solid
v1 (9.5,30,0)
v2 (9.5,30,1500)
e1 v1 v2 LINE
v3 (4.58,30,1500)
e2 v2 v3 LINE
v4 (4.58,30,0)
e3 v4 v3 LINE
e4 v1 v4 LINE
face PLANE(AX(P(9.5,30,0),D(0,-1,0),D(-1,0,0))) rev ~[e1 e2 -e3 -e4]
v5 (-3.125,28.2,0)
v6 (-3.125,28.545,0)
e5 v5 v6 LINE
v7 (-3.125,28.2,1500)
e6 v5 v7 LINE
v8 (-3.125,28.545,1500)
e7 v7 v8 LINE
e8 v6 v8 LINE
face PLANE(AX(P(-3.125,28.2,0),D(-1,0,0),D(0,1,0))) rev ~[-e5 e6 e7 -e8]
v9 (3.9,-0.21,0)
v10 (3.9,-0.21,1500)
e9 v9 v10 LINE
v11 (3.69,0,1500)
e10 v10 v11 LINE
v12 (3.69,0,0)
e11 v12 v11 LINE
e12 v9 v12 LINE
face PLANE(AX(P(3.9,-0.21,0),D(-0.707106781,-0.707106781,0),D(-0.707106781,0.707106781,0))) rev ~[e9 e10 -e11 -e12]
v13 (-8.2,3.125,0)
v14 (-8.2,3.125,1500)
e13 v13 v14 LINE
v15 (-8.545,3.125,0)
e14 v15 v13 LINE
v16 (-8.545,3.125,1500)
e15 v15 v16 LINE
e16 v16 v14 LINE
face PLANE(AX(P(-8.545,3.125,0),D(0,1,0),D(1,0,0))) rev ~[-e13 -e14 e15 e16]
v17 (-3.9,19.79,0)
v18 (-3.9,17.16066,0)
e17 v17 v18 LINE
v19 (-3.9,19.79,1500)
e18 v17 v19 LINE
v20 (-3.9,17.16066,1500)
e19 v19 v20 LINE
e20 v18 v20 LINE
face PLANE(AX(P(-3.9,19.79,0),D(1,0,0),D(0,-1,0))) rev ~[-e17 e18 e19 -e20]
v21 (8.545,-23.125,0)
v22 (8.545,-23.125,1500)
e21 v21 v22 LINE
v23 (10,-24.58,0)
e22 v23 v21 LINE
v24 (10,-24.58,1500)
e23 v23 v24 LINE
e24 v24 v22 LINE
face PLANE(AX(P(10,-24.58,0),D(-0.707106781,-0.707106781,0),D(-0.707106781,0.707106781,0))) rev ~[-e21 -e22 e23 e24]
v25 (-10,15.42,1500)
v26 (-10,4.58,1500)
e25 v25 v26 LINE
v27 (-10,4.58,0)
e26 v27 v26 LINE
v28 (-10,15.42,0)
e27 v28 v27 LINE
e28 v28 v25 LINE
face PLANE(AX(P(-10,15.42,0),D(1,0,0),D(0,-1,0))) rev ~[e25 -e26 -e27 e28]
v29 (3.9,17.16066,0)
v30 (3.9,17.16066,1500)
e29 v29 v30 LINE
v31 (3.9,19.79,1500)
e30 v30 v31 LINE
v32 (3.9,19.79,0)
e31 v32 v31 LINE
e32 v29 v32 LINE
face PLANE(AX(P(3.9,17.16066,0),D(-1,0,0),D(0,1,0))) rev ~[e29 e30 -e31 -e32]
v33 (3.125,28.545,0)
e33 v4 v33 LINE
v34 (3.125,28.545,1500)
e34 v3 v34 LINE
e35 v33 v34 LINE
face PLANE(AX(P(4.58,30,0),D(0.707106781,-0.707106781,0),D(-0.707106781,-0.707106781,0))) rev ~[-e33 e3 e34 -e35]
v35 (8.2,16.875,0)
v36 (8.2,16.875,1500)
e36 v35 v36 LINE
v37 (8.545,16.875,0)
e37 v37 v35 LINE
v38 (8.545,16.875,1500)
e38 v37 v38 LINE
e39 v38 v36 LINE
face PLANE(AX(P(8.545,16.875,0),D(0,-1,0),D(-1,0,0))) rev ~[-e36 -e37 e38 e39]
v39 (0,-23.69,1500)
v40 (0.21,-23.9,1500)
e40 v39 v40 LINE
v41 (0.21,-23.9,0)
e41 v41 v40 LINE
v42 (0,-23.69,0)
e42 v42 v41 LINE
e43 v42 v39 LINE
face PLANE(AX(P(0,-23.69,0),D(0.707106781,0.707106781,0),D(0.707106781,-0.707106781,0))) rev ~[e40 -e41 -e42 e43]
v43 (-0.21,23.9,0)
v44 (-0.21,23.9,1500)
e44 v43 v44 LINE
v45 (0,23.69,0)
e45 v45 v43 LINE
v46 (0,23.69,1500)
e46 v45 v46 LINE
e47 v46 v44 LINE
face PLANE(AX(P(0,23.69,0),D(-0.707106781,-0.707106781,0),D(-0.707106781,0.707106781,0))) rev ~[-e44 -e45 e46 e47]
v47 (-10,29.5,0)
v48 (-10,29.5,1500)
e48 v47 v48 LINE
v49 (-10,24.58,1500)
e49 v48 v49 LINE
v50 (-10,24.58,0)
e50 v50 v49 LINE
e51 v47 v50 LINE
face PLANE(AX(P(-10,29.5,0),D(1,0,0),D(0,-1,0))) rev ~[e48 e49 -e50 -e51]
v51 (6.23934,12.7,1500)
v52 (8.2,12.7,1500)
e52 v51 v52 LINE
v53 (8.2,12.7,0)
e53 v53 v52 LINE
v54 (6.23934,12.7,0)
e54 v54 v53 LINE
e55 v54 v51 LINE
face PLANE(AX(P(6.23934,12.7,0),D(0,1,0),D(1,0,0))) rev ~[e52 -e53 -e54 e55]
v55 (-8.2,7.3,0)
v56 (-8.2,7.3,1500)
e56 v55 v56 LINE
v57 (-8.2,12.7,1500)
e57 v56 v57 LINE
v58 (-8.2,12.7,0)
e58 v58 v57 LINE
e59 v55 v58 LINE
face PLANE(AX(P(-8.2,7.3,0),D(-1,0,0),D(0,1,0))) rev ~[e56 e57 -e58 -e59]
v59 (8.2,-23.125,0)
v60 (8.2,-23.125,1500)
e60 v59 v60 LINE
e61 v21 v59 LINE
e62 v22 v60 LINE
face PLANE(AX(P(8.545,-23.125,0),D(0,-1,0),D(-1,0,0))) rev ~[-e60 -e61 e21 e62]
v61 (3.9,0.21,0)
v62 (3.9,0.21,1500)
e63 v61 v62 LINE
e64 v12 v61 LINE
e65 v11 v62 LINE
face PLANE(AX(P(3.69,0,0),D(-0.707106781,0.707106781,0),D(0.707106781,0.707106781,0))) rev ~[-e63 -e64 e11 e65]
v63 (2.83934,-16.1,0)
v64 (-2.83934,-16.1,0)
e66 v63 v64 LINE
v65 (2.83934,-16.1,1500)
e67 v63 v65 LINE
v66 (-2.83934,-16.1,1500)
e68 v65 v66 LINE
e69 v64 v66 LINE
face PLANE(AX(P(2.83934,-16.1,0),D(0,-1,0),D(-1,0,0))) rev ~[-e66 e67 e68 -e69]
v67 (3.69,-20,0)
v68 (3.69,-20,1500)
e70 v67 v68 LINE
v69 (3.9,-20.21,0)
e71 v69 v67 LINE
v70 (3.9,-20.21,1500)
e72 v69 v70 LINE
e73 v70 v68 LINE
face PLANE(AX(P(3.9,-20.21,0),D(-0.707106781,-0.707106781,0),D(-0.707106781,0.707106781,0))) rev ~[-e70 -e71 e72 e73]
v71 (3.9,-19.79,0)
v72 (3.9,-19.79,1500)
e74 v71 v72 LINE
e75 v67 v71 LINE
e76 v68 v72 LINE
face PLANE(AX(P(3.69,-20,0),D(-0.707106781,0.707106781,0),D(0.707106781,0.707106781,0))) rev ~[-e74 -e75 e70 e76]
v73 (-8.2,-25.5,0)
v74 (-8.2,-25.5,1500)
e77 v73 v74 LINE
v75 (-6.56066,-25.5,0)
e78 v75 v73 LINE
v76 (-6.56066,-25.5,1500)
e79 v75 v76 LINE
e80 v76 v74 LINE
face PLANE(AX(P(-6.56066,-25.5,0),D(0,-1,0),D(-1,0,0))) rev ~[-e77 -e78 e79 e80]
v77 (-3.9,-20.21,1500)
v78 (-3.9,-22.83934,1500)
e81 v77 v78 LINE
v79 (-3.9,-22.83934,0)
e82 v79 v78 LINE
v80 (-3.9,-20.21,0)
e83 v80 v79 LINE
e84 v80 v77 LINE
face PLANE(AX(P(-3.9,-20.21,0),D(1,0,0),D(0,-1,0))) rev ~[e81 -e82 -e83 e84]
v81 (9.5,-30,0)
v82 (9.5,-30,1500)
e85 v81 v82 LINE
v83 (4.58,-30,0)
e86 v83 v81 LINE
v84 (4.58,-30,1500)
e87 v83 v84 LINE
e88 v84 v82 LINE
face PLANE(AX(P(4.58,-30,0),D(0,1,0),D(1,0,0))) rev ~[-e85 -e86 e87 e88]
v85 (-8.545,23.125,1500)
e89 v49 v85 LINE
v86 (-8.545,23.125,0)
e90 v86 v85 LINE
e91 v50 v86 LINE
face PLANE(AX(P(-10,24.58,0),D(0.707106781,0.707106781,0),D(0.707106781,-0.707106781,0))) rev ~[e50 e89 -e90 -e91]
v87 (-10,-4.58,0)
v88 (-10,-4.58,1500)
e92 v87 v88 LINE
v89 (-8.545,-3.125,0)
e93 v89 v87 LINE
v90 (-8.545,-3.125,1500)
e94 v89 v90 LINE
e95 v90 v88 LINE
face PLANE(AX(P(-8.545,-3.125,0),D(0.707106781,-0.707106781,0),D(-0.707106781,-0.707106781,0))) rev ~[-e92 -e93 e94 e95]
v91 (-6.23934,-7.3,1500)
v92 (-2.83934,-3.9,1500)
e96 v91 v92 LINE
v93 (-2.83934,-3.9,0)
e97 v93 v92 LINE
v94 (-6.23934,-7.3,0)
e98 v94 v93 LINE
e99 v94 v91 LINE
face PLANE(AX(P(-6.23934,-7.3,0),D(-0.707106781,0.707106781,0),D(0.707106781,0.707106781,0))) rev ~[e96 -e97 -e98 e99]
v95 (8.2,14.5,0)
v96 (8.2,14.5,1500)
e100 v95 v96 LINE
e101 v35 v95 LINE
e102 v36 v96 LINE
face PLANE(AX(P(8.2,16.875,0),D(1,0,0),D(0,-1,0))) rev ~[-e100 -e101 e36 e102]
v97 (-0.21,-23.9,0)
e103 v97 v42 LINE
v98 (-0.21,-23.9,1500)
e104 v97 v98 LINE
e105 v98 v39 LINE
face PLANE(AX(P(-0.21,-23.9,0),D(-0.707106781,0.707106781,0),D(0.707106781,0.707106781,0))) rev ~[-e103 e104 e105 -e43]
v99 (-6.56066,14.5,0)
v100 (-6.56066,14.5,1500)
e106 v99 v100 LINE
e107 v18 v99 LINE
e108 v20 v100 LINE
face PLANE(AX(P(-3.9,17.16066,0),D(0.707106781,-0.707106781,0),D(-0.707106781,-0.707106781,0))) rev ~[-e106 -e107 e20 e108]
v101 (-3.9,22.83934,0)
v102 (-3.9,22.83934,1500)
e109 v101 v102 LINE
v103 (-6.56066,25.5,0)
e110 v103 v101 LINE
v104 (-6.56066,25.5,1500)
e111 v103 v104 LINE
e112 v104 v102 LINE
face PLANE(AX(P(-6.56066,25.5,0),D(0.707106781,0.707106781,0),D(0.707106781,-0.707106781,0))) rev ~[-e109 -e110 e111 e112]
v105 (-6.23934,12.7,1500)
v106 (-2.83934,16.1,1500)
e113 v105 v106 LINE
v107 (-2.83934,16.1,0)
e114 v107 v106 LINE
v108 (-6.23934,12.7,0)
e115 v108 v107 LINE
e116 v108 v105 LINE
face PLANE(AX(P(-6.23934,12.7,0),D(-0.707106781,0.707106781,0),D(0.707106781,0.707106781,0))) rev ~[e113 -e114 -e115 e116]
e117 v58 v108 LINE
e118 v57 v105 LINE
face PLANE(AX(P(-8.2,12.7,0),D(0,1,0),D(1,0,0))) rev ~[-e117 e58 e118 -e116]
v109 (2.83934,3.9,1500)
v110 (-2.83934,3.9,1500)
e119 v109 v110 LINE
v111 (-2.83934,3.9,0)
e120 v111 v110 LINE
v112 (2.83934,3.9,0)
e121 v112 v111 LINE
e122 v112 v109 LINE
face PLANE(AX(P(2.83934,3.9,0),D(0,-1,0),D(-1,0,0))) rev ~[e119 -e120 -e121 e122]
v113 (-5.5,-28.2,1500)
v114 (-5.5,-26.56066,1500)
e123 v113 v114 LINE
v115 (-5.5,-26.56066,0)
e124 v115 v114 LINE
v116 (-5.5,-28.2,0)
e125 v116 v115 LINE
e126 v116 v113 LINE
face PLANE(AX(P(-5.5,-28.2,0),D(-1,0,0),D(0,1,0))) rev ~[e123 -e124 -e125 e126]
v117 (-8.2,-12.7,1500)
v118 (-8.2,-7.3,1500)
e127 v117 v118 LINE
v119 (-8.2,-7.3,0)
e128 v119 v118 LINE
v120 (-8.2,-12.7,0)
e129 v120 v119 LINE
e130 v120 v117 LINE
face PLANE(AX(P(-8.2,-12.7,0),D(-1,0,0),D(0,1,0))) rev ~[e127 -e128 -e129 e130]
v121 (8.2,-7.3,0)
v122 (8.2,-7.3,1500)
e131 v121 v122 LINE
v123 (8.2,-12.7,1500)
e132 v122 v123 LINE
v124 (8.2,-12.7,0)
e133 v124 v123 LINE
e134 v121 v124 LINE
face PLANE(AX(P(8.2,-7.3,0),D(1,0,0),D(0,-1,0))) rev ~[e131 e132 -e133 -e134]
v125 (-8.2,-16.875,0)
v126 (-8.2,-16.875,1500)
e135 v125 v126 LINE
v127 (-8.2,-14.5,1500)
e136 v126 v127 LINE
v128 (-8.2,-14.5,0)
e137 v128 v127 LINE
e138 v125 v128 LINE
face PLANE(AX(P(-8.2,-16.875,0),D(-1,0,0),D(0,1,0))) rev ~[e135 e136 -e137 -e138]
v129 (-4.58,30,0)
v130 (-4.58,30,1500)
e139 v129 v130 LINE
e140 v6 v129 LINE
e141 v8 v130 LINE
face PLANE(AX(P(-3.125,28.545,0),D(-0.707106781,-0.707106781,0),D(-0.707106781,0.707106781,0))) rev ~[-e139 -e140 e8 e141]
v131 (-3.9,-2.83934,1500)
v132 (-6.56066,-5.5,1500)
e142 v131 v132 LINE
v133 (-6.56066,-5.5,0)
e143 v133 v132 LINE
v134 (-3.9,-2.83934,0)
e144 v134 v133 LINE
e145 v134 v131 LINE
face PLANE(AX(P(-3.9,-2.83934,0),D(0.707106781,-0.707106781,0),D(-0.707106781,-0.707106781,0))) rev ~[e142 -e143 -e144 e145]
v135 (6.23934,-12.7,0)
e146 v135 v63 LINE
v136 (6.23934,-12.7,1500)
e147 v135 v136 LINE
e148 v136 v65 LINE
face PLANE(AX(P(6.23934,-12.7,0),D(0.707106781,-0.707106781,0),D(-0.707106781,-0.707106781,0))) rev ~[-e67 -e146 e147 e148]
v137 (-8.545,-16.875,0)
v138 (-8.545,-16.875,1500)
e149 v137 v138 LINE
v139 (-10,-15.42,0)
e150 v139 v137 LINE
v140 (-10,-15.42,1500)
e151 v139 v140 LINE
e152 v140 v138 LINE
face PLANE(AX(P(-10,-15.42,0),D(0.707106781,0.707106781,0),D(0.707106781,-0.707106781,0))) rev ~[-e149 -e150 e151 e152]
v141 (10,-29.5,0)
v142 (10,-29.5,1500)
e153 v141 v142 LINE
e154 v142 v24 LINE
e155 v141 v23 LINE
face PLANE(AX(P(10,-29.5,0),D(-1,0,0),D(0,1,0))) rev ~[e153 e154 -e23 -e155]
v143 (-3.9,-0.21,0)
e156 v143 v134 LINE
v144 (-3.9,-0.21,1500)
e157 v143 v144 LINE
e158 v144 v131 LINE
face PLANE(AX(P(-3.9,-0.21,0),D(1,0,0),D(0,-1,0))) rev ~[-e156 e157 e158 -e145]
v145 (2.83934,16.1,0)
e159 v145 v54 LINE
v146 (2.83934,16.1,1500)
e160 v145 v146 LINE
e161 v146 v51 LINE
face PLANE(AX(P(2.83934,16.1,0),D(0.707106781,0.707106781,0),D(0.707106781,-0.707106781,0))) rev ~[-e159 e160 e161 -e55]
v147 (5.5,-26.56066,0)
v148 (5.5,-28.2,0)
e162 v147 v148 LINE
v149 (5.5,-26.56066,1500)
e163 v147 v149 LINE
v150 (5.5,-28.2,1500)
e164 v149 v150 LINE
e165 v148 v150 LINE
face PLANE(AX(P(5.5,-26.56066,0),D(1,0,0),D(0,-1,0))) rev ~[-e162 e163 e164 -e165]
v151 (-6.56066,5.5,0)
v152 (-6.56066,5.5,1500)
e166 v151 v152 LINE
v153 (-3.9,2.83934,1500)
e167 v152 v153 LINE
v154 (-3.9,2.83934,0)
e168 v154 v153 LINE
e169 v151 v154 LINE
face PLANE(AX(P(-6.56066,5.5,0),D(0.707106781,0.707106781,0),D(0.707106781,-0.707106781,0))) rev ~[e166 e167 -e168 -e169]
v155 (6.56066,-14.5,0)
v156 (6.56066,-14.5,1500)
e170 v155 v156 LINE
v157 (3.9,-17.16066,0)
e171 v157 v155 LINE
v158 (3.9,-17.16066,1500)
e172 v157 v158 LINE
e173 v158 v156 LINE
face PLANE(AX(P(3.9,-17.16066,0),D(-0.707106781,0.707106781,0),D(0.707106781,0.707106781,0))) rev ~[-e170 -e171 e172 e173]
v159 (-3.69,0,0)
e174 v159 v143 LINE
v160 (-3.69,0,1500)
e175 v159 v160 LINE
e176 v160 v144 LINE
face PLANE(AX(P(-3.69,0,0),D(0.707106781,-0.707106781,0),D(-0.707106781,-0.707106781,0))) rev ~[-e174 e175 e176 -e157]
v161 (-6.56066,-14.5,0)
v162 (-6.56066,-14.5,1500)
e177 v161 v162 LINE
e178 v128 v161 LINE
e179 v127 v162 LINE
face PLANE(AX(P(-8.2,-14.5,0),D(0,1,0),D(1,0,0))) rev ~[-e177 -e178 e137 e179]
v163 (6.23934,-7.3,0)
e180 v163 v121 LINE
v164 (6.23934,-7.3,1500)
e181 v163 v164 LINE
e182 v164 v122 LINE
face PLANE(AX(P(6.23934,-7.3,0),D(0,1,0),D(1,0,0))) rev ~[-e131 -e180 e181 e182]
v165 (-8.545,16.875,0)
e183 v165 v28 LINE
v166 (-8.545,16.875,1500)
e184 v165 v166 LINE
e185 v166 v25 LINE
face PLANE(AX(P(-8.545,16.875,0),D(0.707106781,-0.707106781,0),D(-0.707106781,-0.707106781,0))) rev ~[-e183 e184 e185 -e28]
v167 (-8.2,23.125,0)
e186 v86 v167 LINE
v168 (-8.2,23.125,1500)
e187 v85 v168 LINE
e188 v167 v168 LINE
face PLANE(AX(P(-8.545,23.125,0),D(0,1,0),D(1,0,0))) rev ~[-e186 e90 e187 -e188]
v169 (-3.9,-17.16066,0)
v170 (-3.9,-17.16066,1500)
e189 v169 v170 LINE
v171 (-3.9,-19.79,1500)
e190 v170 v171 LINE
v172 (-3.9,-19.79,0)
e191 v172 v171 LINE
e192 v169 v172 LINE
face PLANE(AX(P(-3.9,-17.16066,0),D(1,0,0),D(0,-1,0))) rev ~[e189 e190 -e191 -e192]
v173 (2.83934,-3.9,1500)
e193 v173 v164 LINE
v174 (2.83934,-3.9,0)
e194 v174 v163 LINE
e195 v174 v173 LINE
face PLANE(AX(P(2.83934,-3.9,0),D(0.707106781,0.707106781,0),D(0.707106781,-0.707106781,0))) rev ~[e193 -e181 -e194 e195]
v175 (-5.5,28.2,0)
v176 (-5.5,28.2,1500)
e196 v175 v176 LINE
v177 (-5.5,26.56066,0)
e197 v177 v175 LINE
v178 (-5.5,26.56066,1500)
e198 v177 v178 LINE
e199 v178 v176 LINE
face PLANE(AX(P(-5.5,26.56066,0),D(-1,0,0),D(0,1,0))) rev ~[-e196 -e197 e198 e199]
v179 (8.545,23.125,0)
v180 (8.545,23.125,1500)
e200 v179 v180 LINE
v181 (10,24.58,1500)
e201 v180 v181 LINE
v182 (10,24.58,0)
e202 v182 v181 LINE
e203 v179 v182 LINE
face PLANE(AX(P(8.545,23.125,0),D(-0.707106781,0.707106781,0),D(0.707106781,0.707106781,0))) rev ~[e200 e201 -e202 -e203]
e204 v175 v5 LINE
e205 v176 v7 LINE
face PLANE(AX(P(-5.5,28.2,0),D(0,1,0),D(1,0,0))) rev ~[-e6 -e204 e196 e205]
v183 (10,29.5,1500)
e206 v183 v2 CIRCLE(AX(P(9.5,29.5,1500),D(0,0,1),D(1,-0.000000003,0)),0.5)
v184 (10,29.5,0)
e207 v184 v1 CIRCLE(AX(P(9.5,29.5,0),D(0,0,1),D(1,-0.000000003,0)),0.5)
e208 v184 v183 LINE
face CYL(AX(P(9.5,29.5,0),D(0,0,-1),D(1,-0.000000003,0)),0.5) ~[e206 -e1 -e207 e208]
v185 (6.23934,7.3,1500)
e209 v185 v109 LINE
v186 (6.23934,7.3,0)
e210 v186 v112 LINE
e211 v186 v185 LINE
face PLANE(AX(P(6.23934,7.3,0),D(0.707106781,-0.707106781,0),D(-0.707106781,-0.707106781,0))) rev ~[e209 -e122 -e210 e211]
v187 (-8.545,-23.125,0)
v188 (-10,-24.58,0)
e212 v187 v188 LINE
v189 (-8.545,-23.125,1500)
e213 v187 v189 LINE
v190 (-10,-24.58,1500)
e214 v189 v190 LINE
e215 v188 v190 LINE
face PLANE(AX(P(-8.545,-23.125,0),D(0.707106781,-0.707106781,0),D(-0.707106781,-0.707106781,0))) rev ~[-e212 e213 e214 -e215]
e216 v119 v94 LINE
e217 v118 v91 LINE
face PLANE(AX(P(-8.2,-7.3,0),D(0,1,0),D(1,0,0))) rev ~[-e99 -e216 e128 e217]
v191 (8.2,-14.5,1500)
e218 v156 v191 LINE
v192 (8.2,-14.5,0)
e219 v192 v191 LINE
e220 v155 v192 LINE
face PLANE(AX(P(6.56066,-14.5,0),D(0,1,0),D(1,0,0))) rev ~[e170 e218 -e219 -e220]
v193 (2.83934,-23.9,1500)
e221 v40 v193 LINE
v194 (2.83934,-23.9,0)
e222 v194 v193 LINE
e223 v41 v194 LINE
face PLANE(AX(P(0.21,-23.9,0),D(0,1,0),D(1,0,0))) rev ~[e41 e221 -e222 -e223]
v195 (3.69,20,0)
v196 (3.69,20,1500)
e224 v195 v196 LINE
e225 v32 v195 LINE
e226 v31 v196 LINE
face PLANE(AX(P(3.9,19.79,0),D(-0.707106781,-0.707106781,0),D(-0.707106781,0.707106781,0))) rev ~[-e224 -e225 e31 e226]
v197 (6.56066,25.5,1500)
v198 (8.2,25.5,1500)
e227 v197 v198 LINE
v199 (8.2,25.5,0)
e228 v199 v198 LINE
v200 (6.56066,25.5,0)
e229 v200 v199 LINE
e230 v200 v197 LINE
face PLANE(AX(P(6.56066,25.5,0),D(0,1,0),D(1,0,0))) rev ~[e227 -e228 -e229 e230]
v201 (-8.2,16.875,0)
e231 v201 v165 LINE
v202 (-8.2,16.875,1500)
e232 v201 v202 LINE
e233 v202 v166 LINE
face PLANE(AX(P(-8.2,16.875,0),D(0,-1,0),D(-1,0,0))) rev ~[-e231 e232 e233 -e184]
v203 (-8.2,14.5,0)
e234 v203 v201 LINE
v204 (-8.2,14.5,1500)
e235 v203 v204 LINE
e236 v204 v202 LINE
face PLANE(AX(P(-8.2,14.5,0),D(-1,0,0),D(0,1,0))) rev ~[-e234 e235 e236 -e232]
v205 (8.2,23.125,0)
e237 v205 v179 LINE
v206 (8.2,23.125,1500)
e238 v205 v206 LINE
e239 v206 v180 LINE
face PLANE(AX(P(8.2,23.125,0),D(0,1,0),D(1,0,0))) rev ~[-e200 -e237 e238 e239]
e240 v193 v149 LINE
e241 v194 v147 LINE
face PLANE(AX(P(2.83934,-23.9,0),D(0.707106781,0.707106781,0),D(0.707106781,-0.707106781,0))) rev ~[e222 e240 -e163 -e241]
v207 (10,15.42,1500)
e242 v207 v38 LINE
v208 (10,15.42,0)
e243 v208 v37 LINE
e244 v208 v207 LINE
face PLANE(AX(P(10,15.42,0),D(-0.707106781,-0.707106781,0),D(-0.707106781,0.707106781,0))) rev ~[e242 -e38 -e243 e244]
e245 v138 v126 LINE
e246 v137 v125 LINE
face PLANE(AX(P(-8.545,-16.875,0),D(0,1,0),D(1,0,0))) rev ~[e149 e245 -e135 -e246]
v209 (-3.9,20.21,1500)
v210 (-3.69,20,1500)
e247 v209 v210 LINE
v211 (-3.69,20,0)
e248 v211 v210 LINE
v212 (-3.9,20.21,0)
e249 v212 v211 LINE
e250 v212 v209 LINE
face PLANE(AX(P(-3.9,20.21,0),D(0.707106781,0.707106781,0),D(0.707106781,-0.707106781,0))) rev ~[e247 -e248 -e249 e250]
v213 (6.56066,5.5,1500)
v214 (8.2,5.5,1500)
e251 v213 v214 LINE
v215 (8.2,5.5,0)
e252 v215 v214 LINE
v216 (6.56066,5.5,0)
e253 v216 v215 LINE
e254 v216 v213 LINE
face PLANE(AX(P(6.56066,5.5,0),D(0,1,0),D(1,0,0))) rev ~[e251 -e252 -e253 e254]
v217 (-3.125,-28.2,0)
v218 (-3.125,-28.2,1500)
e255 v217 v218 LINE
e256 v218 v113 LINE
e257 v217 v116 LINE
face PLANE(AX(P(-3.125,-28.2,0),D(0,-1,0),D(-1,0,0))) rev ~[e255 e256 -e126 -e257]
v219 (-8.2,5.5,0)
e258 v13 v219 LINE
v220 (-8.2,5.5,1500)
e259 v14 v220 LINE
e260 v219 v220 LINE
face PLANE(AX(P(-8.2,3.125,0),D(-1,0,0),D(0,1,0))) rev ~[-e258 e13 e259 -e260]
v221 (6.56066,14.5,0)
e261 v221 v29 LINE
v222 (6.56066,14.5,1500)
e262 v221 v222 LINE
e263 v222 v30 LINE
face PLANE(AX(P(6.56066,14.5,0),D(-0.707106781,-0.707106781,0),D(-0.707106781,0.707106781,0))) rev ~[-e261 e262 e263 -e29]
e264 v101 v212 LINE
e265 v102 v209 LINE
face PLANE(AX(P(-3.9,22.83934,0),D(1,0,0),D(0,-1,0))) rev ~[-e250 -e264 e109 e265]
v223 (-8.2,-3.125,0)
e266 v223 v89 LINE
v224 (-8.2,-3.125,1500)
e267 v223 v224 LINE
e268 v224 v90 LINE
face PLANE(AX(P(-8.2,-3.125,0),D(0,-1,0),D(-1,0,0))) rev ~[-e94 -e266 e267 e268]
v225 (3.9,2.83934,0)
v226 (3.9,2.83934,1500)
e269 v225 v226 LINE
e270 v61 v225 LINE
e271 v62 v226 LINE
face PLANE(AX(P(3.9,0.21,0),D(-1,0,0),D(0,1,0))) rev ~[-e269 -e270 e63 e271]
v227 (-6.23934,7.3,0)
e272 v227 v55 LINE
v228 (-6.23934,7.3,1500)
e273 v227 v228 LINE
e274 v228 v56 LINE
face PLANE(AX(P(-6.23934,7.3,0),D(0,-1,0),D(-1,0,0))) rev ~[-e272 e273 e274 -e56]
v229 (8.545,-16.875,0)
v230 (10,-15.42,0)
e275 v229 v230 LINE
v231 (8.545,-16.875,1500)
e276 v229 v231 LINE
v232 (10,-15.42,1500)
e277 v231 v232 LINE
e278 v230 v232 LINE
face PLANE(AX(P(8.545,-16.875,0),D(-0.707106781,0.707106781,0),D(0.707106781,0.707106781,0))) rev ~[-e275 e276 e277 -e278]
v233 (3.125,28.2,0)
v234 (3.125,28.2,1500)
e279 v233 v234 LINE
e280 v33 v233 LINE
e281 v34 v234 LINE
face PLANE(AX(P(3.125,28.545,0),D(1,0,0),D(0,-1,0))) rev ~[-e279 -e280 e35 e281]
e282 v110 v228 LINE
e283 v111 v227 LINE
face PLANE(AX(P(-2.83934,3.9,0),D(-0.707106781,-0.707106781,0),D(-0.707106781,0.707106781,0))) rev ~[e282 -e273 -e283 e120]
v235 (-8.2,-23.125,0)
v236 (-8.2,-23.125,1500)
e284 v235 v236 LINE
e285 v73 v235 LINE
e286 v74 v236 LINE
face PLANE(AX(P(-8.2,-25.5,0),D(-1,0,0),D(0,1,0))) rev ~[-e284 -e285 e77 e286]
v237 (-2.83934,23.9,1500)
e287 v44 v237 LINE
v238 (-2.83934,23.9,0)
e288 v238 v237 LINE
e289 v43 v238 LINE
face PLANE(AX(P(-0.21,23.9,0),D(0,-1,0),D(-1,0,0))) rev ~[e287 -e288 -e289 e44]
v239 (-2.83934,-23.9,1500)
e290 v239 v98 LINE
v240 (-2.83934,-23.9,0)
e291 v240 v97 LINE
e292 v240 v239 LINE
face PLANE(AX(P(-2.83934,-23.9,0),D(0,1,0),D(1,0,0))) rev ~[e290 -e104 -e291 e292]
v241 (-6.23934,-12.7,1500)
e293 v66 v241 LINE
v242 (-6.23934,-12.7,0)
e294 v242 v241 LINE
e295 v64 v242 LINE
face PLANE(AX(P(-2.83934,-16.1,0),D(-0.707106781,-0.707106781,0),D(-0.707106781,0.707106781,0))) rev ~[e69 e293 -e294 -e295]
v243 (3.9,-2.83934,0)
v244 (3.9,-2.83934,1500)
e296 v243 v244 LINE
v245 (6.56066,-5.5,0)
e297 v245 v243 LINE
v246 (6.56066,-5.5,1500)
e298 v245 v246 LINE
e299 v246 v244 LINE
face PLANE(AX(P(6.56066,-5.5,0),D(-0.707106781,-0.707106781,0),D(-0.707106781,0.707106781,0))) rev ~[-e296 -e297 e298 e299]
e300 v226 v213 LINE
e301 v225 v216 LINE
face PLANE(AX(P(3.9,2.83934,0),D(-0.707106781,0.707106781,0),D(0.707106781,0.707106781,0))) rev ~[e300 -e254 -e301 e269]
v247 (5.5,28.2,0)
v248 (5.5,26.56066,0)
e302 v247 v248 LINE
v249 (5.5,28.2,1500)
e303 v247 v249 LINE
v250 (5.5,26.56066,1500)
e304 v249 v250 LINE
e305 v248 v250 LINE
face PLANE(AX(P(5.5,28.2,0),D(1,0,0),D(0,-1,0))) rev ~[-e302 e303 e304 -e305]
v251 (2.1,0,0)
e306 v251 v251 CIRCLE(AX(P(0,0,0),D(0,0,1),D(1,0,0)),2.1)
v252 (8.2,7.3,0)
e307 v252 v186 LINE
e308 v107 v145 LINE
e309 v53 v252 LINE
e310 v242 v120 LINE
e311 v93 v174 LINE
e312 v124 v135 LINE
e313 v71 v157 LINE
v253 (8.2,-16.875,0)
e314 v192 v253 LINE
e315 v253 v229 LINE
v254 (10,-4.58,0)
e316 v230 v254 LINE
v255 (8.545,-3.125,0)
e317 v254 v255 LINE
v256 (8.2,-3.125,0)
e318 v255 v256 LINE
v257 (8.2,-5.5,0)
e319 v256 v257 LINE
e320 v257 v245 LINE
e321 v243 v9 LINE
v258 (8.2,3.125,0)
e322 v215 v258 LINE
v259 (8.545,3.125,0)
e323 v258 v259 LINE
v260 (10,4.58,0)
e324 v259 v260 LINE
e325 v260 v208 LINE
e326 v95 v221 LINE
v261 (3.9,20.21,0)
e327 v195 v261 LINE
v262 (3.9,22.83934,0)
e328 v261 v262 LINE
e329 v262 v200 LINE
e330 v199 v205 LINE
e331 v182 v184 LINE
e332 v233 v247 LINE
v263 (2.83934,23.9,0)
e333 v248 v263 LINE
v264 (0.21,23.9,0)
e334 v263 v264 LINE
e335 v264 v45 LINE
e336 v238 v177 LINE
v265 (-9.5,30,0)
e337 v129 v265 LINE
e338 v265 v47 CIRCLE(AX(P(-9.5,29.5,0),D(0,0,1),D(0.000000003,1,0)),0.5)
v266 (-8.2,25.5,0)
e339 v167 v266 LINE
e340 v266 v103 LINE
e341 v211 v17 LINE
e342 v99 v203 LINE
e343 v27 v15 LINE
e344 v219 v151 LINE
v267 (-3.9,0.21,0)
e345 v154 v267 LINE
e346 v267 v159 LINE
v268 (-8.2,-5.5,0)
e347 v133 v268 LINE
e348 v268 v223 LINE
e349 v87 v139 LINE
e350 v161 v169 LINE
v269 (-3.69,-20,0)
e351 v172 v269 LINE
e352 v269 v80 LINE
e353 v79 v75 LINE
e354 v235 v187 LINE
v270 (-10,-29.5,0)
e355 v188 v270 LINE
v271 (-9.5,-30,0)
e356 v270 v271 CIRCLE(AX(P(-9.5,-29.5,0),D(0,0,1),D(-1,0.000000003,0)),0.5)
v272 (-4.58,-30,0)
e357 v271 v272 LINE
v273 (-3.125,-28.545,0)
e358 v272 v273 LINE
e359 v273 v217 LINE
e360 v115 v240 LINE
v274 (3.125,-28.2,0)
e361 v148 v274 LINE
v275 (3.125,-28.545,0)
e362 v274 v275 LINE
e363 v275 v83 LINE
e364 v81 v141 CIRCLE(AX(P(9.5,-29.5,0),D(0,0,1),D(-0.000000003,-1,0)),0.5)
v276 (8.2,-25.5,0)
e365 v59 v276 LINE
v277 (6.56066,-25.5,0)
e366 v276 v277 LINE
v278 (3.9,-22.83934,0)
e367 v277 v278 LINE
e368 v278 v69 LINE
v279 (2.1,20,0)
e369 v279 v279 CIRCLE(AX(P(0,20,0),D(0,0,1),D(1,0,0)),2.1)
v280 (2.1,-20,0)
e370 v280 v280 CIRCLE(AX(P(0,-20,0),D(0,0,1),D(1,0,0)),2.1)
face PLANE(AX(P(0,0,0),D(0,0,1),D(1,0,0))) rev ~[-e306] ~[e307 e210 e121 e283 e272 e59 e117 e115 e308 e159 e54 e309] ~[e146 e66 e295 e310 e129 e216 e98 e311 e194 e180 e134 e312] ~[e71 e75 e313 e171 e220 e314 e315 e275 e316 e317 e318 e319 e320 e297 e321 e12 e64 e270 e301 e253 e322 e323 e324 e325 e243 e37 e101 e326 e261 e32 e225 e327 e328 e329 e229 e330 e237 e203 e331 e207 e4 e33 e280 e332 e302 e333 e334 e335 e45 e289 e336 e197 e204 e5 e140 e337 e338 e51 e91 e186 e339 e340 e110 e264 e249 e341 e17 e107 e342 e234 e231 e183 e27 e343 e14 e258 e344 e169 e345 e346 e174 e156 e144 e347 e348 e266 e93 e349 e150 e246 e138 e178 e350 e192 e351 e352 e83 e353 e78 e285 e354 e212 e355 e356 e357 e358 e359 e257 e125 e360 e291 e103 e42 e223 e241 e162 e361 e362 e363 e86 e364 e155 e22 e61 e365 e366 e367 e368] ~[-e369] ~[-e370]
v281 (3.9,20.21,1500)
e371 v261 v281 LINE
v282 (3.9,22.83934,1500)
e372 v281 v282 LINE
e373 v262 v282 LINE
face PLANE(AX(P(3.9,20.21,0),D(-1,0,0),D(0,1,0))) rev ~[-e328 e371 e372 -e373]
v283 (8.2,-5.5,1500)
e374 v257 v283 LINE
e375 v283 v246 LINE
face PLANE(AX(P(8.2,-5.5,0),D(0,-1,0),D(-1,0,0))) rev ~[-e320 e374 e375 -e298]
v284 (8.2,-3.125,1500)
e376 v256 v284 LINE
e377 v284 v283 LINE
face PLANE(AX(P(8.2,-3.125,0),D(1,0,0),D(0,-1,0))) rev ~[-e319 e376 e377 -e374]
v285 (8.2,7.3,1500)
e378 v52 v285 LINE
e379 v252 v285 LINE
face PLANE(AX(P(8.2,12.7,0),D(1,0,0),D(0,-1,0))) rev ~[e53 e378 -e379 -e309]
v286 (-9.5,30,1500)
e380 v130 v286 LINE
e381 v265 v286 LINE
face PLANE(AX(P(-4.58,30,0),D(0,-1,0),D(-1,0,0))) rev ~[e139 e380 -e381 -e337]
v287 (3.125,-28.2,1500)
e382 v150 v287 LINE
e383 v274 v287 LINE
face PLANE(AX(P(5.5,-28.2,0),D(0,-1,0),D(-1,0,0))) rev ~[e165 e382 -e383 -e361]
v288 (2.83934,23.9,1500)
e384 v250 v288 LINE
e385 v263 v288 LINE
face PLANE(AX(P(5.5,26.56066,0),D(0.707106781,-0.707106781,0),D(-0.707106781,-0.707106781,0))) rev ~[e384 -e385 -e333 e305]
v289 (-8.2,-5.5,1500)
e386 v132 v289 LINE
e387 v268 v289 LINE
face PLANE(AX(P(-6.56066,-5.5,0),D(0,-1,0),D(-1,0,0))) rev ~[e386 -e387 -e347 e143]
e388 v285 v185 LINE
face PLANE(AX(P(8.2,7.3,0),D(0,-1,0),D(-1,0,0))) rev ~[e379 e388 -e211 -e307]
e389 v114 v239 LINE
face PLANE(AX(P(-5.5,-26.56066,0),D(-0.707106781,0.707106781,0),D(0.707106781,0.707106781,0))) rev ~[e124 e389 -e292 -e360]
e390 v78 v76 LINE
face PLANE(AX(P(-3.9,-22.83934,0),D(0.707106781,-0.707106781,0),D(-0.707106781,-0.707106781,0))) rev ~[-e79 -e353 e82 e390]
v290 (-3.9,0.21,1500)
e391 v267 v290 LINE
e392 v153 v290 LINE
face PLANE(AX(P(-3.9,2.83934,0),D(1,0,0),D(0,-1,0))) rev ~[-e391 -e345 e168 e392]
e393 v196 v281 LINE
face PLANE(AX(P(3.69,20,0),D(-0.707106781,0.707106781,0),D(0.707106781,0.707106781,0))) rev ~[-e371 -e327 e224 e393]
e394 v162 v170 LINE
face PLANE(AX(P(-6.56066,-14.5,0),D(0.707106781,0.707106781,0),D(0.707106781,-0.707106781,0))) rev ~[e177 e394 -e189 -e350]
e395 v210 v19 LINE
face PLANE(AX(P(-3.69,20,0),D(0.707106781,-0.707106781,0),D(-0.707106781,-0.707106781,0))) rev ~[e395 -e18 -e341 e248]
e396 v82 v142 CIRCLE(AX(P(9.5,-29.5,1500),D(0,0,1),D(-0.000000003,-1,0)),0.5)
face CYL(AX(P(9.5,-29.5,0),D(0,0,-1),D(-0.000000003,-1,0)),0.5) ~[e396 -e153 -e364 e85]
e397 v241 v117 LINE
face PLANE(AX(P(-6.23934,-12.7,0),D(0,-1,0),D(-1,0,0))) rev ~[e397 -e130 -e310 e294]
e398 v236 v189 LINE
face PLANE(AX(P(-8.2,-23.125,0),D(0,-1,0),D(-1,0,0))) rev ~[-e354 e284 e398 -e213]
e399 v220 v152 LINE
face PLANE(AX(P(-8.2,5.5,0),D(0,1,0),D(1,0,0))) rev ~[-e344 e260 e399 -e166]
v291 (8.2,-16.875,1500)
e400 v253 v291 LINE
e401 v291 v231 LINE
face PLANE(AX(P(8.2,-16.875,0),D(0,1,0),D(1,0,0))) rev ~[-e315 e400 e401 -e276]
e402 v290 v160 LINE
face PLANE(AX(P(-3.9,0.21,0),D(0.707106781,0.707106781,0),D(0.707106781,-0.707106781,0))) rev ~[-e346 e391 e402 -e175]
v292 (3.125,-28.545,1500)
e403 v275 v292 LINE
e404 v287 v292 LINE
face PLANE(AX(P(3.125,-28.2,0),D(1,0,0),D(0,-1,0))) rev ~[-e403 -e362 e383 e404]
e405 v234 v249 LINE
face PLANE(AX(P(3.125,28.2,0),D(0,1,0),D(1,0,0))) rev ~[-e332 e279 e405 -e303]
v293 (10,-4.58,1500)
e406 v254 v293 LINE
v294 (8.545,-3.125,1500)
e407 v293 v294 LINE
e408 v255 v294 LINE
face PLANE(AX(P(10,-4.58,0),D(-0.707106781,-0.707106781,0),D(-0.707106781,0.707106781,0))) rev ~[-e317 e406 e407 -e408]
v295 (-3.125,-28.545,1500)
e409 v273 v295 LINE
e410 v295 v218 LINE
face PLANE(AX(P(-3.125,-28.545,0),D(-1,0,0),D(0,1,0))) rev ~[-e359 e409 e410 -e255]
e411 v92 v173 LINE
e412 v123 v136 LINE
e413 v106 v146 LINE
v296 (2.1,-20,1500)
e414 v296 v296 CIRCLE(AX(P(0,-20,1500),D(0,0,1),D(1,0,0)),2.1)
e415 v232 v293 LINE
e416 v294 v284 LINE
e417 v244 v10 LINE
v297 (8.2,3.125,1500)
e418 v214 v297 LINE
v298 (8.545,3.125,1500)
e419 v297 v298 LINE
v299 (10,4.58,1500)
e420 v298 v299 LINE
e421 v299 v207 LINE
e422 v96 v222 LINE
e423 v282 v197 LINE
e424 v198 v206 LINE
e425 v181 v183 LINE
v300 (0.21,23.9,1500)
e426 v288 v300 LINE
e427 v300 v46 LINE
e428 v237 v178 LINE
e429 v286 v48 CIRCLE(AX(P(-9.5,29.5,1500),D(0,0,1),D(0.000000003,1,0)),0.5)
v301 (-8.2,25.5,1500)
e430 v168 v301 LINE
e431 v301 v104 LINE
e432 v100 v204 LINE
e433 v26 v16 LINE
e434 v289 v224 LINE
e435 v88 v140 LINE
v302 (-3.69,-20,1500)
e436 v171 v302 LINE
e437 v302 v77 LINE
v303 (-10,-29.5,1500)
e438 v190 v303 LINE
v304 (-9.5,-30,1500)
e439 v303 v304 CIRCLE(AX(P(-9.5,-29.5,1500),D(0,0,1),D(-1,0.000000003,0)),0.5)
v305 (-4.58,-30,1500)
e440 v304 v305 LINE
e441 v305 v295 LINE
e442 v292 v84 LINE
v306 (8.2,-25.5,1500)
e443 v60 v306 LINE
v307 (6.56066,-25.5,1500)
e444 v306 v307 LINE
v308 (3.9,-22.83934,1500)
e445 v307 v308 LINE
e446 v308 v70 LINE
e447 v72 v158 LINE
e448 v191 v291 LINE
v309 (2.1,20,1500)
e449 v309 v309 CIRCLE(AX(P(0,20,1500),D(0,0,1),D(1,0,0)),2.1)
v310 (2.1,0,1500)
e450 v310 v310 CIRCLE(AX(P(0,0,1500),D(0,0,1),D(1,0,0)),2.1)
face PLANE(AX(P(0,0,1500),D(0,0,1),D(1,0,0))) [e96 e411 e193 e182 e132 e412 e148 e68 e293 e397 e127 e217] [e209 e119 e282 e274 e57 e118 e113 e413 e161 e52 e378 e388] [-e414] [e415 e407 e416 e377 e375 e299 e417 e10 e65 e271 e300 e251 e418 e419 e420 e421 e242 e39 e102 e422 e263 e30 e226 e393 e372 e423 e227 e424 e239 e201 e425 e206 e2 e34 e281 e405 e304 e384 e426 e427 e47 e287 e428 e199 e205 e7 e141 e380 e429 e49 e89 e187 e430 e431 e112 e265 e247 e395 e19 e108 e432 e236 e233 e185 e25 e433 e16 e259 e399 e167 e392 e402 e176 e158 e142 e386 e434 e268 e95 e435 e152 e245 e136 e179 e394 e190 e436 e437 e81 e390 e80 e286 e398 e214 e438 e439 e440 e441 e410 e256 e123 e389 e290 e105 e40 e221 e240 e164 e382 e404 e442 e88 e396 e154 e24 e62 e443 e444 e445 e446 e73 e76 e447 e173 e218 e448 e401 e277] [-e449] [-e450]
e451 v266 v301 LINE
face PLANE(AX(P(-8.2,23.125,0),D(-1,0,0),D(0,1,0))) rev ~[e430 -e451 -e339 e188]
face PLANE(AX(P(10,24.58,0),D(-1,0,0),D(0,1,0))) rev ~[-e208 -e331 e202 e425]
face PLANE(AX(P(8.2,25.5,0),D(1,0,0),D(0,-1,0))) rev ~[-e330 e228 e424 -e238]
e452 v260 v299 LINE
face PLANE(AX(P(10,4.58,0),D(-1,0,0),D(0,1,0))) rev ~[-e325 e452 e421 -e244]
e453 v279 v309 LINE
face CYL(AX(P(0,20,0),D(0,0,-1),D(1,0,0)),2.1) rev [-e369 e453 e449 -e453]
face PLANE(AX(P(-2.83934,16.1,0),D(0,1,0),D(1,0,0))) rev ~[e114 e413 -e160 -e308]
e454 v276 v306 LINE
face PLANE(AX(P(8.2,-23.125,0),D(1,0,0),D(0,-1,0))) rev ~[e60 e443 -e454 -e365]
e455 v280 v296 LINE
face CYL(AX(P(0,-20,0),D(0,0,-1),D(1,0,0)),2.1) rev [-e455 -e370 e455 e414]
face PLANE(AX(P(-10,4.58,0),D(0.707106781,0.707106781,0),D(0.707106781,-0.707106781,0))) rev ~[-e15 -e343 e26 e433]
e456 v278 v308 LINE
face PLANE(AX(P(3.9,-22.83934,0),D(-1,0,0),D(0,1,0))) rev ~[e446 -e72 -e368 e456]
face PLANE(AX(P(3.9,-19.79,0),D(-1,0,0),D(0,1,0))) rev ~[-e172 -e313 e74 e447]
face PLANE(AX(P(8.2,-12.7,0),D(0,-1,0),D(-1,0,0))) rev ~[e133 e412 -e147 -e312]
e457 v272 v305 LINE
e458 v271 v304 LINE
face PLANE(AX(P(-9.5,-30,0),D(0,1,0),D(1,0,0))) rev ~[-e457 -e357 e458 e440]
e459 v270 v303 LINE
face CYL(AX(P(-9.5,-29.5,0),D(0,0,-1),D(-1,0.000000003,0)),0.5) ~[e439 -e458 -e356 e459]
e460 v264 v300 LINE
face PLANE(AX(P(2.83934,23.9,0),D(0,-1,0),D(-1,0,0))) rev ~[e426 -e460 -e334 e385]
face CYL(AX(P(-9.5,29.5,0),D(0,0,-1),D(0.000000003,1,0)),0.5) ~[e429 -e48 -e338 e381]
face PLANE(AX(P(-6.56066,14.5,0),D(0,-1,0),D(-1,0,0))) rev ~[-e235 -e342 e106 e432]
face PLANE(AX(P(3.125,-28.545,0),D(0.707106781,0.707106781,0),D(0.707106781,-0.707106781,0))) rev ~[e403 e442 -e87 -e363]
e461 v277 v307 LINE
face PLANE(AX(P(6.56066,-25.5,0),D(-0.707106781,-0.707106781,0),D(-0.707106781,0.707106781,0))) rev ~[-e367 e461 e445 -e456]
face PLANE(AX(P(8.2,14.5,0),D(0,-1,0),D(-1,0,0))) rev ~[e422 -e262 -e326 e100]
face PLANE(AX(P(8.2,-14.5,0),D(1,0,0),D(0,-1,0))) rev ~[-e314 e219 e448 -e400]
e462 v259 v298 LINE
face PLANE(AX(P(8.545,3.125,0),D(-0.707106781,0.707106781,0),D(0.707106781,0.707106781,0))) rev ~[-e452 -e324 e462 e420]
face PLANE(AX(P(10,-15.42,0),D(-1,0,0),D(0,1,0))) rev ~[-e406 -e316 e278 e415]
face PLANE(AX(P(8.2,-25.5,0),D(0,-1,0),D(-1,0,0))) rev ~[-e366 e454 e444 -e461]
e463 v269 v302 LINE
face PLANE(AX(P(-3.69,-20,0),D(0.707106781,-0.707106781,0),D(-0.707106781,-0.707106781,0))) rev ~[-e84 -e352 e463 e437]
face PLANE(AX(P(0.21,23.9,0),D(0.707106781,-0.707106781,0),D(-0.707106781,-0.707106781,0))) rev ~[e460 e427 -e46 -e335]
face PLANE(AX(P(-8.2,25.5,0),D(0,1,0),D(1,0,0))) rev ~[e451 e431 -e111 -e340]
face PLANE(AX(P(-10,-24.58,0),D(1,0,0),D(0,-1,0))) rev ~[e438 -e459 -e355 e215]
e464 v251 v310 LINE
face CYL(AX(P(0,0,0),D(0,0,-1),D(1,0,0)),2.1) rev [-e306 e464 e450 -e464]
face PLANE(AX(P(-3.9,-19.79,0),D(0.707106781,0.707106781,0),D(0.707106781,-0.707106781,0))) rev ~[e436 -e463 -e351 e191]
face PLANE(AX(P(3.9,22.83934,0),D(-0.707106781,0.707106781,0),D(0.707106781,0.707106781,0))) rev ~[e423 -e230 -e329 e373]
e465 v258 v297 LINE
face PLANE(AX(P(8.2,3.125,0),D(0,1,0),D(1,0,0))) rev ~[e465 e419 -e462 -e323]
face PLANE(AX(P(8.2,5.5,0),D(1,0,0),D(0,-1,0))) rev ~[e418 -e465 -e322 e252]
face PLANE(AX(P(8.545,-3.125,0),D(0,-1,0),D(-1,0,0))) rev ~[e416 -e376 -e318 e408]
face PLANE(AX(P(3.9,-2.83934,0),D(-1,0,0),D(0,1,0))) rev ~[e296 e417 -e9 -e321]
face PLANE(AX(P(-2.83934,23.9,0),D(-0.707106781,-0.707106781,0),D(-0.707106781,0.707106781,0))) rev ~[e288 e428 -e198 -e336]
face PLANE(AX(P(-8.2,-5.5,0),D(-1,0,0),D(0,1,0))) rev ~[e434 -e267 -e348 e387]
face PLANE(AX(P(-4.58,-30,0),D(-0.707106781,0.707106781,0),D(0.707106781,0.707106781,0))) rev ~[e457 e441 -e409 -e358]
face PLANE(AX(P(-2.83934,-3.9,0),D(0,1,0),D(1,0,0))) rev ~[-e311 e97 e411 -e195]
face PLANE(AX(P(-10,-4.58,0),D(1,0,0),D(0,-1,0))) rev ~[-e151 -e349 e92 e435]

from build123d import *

# Parameters (mm, degrees)
SKETCH1_R           = 2.1
BOSS_EXTRUDE1_DEPTH = 1500


with BuildPart() as part:
    # Sketch1 → Boss-Extrude1 (new body)
    with BuildSketch(Plane.XY):
        with BuildLine():
            Line((4.58, -30), (9.5, -30))
            ThreePointArc((9.5, -30), (9.853553391, -29.853553391), (10, -29.5))
            Line((10, -29.5), (10, -24.58))
            Line((10, -24.58), (8.545, -23.125))
            Line((8.545, -23.125), (8.2, -23.125))
            Line((8.2, -23.125), (8.2, -25.5))
            Line((8.2, -25.5), (6.560660172, -25.5))
            Line((6.560660172, -25.5), (3.9, -22.839339828))
            Line((3.9, -22.839339828), (3.9, -20.21))
            Line((3.9, -20.21), (3.69, -20))
            Line((3.69, -20), (3.9, -19.79))
            Line((3.9, -19.79), (3.9, -17.160660172))
            Line((3.9, -17.160660172), (6.560660172, -14.5))
            Line((6.560660172, -14.5), (8.2, -14.5))
            Line((8.2, -14.5), (8.2, -16.875))
            Line((8.2, -16.875), (8.545, -16.875))
            Line((8.545, -16.875), (10, -15.42))
            Line((10, -15.42), (10, -4.58))
            Line((10, -4.58), (8.545, -3.125))
            Line((8.545, -3.125), (8.2, -3.125))
            Line((8.2, -3.125), (8.2, -5.5))
            Line((8.2, -5.5), (6.560660172, -5.5))
            Line((6.560660172, -5.5), (3.9, -2.839339828))
            Line((3.9, -2.839339828), (3.9, -0.21))
            Line((3.9, -0.21), (3.69, 0))
            Line((3.69, 0), (3.9, 0.21))
            Line((3.9, 0.21), (3.9, 2.839339828))
            Line((3.9, 2.839339828), (6.560660172, 5.5))
            Line((6.560660172, 5.5), (8.2, 5.5))
            Line((8.2, 5.5), (8.2, 3.125))
            Line((8.2, 3.125), (8.545, 3.125))
            Line((8.545, 3.125), (10, 4.58))
            Line((10, 4.58), (10, 15.42))
            Line((10, 15.42), (8.545, 16.875))
            Line((8.545, 16.875), (8.2, 16.875))
            Line((8.2, 16.875), (8.2, 14.5))
            Line((8.2, 14.5), (6.560660172, 14.5))
            Line((6.560660172, 14.5), (3.9, 17.160660172))
            Line((3.9, 17.160660172), (3.9, 19.79))
            Line((3.9, 19.79), (3.69, 20))
            Line((3.69, 20), (3.9, 20.21))
            Line((3.9, 20.21), (3.9, 22.839339828))
            Line((3.9, 22.839339828), (6.560660172, 25.5))
            Line((6.560660172, 25.5), (8.2, 25.5))
            Line((8.2, 25.5), (8.2, 23.125))
            Line((8.2, 23.125), (8.545, 23.125))
            Line((8.545, 23.125), (10, 24.58))
            Line((10, 24.58), (10, 29.5))
            ThreePointArc((10, 29.5), (9.853553391, 29.853553391), (9.5, 30))
            Line((9.5, 30), (4.58, 30))
            Line((4.58, 30), (3.125, 28.545))
            Line((3.125, 28.545), (3.125, 28.2))
            Line((3.125, 28.2), (5.5, 28.2))
            Line((5.5, 28.2), (5.5, 26.560660172))
            Line((5.5, 26.560660172), (2.839339828, 23.9))
            Line((2.839339828, 23.9), (0.21, 23.9))
            Line((0.21, 23.9), (0, 23.69))
            Line((0, 23.69), (-0.21, 23.9))
            Line((-0.21, 23.9), (-2.839339828, 23.9))
            Line((-2.839339828, 23.9), (-5.5, 26.560660172))
            Line((-5.5, 26.560660172), (-5.5, 28.2))
            Line((-5.5, 28.2), (-3.125, 28.2))
            Line((-3.125, 28.2), (-3.125, 28.545))
            Line((-3.125, 28.545), (-4.58, 30))
            Line((-4.58, 30), (-9.5, 30))
            ThreePointArc((-9.5, 30), (-9.853553391, 29.853553391), (-10, 29.5))
            Line((-10, 29.5), (-10, 24.58))
            Line((-10, 24.58), (-8.545, 23.125))
            Line((-8.545, 23.125), (-8.2, 23.125))
            Line((-8.2, 23.125), (-8.2, 25.5))
            Line((-8.2, 25.5), (-6.560660172, 25.5))
            Line((-6.560660172, 25.5), (-3.9, 22.839339828))
            Line((-3.9, 22.839339828), (-3.9, 20.21))
            Line((-3.9, 20.21), (-3.69, 20))
            Line((-3.69, 20), (-3.9, 19.79))
            Line((-3.9, 19.79), (-3.9, 17.160660172))
            Line((-3.9, 17.160660172), (-6.560660172, 14.5))
            Line((-6.560660172, 14.5), (-8.2, 14.5))
            Line((-8.2, 14.5), (-8.2, 16.875))
            Line((-8.2, 16.875), (-8.545, 16.875))
            Line((-8.545, 16.875), (-10, 15.42))
            Line((-10, 15.42), (-10, 4.58))
            Line((-10, 4.58), (-8.545, 3.125))
            Line((-8.545, 3.125), (-8.2, 3.125))
            Line((-8.2, 3.125), (-8.2, 5.5))
            Line((-8.2, 5.5), (-6.560660172, 5.5))
            Line((-6.560660172, 5.5), (-3.9, 2.839339828))
            Line((-3.9, 2.839339828), (-3.9, 0.21))
            Line((-3.9, 0.21), (-3.69, 0))
            Line((-3.69, 0), (-3.9, -0.21))
            Line((-3.9, -0.21), (-3.9, -2.839339828))
            Line((-3.9, -2.839339828), (-6.560660172, -5.5))
            Line((-6.560660172, -5.5), (-8.2, -5.5))
            Line((-8.2, -5.5), (-8.2, -3.125))
            Line((-8.2, -3.125), (-8.545, -3.125))
            Line((-8.545, -3.125), (-10, -4.58))
            Line((-10, -4.58), (-10, -15.42))
            Line((-10, -15.42), (-8.545, -16.875))
            Line((-8.545, -16.875), (-8.2, -16.875))
            Line((-8.2, -16.875), (-8.2, -14.5))
            Line((-8.2, -14.5), (-6.560660172, -14.5))
            Line((-6.560660172, -14.5), (-3.9, -17.160660172))
            Line((-3.9, -17.160660172), (-3.9, -19.79))
            Line((-3.9, -19.79), (-3.69, -20))
            Line((-3.69, -20), (-3.9, -20.21))
            Line((-3.9, -20.21), (-3.9, -22.839339828))
            Line((-3.9, -22.839339828), (-6.560660172, -25.5))
            Line((-6.560660172, -25.5), (-8.2, -25.5))
            Line((-8.2, -25.5), (-8.2, -23.125))
            Line((-8.2, -23.125), (-8.545, -23.125))
            Line((-8.545, -23.125), (-10, -24.58))
            Line((-10, -24.58), (-10, -29.5))
            ThreePointArc((-10, -29.5), (-9.853553391, -29.853553391), (-9.5, -30))
            Line((-9.5, -30), (-4.58, -30))
            Line((-4.58, -30), (-3.125, -28.545))
            Line((-3.125, -28.545), (-3.125, -28.2))
            Line((-3.125, -28.2), (-5.5, -28.2))
            Line((-5.5, -28.2), (-5.5, -26.560660172))
            Line((-5.5, -26.560660172), (-2.839339828, -23.9))
            Line((-2.839339828, -23.9), (-0.21, -23.9))
            Line((-0.21, -23.9), (0, -23.69))
            Line((0, -23.69), (0.21, -23.9))
            Line((0.21, -23.9), (2.839339828, -23.9))
            Line((2.839339828, -23.9), (5.5, -26.560660172))
            Line((5.5, -26.560660172), (5.5, -28.2))
            Line((5.5, -28.2), (3.125, -28.2))
            Line((3.125, -28.2), (3.125, -28.545))
            Line((3.125, -28.545), (4.58, -30))
        make_face()
        with Locations((0, -20)):
            Circle(SKETCH1_R, mode=Mode.SUBTRACT)
        Polygon((-6.239339828, -12.7), (-8.2, -12.7), (-8.2, -7.3), (-6.239339828, -7.3), (-2.839339828, -3.9), (2.839339828, -3.9), (6.239339828, -7.3), (8.2, -7.3), (8.2, -12.7), (6.239339828, -12.7), (2.839339828, -16.1), (-2.839339828, -16.1), align=None, mode=Mode.SUBTRACT)
        Polygon((-6.239339828, 7.3), (-8.2, 7.3), (-8.2, 12.7), (-6.239339828, 12.7), (-2.839339828, 16.1), (2.839339828, 16.1), (6.239339828, 12.7), (8.2, 12.7), (8.2, 7.3), (6.239339828, 7.3), (2.839339828, 3.9), (-2.839339828, 3.9), align=None, mode=Mode.SUBTRACT)
        with Locations((0, 20)):
            Circle(SKETCH1_R, mode=Mode.SUBTRACT)
        Circle(SKETCH1_R, mode=Mode.SUBTRACT)
    extrude(amount=BOSS_EXTRUDE1_DEPTH)


solid = part.part
